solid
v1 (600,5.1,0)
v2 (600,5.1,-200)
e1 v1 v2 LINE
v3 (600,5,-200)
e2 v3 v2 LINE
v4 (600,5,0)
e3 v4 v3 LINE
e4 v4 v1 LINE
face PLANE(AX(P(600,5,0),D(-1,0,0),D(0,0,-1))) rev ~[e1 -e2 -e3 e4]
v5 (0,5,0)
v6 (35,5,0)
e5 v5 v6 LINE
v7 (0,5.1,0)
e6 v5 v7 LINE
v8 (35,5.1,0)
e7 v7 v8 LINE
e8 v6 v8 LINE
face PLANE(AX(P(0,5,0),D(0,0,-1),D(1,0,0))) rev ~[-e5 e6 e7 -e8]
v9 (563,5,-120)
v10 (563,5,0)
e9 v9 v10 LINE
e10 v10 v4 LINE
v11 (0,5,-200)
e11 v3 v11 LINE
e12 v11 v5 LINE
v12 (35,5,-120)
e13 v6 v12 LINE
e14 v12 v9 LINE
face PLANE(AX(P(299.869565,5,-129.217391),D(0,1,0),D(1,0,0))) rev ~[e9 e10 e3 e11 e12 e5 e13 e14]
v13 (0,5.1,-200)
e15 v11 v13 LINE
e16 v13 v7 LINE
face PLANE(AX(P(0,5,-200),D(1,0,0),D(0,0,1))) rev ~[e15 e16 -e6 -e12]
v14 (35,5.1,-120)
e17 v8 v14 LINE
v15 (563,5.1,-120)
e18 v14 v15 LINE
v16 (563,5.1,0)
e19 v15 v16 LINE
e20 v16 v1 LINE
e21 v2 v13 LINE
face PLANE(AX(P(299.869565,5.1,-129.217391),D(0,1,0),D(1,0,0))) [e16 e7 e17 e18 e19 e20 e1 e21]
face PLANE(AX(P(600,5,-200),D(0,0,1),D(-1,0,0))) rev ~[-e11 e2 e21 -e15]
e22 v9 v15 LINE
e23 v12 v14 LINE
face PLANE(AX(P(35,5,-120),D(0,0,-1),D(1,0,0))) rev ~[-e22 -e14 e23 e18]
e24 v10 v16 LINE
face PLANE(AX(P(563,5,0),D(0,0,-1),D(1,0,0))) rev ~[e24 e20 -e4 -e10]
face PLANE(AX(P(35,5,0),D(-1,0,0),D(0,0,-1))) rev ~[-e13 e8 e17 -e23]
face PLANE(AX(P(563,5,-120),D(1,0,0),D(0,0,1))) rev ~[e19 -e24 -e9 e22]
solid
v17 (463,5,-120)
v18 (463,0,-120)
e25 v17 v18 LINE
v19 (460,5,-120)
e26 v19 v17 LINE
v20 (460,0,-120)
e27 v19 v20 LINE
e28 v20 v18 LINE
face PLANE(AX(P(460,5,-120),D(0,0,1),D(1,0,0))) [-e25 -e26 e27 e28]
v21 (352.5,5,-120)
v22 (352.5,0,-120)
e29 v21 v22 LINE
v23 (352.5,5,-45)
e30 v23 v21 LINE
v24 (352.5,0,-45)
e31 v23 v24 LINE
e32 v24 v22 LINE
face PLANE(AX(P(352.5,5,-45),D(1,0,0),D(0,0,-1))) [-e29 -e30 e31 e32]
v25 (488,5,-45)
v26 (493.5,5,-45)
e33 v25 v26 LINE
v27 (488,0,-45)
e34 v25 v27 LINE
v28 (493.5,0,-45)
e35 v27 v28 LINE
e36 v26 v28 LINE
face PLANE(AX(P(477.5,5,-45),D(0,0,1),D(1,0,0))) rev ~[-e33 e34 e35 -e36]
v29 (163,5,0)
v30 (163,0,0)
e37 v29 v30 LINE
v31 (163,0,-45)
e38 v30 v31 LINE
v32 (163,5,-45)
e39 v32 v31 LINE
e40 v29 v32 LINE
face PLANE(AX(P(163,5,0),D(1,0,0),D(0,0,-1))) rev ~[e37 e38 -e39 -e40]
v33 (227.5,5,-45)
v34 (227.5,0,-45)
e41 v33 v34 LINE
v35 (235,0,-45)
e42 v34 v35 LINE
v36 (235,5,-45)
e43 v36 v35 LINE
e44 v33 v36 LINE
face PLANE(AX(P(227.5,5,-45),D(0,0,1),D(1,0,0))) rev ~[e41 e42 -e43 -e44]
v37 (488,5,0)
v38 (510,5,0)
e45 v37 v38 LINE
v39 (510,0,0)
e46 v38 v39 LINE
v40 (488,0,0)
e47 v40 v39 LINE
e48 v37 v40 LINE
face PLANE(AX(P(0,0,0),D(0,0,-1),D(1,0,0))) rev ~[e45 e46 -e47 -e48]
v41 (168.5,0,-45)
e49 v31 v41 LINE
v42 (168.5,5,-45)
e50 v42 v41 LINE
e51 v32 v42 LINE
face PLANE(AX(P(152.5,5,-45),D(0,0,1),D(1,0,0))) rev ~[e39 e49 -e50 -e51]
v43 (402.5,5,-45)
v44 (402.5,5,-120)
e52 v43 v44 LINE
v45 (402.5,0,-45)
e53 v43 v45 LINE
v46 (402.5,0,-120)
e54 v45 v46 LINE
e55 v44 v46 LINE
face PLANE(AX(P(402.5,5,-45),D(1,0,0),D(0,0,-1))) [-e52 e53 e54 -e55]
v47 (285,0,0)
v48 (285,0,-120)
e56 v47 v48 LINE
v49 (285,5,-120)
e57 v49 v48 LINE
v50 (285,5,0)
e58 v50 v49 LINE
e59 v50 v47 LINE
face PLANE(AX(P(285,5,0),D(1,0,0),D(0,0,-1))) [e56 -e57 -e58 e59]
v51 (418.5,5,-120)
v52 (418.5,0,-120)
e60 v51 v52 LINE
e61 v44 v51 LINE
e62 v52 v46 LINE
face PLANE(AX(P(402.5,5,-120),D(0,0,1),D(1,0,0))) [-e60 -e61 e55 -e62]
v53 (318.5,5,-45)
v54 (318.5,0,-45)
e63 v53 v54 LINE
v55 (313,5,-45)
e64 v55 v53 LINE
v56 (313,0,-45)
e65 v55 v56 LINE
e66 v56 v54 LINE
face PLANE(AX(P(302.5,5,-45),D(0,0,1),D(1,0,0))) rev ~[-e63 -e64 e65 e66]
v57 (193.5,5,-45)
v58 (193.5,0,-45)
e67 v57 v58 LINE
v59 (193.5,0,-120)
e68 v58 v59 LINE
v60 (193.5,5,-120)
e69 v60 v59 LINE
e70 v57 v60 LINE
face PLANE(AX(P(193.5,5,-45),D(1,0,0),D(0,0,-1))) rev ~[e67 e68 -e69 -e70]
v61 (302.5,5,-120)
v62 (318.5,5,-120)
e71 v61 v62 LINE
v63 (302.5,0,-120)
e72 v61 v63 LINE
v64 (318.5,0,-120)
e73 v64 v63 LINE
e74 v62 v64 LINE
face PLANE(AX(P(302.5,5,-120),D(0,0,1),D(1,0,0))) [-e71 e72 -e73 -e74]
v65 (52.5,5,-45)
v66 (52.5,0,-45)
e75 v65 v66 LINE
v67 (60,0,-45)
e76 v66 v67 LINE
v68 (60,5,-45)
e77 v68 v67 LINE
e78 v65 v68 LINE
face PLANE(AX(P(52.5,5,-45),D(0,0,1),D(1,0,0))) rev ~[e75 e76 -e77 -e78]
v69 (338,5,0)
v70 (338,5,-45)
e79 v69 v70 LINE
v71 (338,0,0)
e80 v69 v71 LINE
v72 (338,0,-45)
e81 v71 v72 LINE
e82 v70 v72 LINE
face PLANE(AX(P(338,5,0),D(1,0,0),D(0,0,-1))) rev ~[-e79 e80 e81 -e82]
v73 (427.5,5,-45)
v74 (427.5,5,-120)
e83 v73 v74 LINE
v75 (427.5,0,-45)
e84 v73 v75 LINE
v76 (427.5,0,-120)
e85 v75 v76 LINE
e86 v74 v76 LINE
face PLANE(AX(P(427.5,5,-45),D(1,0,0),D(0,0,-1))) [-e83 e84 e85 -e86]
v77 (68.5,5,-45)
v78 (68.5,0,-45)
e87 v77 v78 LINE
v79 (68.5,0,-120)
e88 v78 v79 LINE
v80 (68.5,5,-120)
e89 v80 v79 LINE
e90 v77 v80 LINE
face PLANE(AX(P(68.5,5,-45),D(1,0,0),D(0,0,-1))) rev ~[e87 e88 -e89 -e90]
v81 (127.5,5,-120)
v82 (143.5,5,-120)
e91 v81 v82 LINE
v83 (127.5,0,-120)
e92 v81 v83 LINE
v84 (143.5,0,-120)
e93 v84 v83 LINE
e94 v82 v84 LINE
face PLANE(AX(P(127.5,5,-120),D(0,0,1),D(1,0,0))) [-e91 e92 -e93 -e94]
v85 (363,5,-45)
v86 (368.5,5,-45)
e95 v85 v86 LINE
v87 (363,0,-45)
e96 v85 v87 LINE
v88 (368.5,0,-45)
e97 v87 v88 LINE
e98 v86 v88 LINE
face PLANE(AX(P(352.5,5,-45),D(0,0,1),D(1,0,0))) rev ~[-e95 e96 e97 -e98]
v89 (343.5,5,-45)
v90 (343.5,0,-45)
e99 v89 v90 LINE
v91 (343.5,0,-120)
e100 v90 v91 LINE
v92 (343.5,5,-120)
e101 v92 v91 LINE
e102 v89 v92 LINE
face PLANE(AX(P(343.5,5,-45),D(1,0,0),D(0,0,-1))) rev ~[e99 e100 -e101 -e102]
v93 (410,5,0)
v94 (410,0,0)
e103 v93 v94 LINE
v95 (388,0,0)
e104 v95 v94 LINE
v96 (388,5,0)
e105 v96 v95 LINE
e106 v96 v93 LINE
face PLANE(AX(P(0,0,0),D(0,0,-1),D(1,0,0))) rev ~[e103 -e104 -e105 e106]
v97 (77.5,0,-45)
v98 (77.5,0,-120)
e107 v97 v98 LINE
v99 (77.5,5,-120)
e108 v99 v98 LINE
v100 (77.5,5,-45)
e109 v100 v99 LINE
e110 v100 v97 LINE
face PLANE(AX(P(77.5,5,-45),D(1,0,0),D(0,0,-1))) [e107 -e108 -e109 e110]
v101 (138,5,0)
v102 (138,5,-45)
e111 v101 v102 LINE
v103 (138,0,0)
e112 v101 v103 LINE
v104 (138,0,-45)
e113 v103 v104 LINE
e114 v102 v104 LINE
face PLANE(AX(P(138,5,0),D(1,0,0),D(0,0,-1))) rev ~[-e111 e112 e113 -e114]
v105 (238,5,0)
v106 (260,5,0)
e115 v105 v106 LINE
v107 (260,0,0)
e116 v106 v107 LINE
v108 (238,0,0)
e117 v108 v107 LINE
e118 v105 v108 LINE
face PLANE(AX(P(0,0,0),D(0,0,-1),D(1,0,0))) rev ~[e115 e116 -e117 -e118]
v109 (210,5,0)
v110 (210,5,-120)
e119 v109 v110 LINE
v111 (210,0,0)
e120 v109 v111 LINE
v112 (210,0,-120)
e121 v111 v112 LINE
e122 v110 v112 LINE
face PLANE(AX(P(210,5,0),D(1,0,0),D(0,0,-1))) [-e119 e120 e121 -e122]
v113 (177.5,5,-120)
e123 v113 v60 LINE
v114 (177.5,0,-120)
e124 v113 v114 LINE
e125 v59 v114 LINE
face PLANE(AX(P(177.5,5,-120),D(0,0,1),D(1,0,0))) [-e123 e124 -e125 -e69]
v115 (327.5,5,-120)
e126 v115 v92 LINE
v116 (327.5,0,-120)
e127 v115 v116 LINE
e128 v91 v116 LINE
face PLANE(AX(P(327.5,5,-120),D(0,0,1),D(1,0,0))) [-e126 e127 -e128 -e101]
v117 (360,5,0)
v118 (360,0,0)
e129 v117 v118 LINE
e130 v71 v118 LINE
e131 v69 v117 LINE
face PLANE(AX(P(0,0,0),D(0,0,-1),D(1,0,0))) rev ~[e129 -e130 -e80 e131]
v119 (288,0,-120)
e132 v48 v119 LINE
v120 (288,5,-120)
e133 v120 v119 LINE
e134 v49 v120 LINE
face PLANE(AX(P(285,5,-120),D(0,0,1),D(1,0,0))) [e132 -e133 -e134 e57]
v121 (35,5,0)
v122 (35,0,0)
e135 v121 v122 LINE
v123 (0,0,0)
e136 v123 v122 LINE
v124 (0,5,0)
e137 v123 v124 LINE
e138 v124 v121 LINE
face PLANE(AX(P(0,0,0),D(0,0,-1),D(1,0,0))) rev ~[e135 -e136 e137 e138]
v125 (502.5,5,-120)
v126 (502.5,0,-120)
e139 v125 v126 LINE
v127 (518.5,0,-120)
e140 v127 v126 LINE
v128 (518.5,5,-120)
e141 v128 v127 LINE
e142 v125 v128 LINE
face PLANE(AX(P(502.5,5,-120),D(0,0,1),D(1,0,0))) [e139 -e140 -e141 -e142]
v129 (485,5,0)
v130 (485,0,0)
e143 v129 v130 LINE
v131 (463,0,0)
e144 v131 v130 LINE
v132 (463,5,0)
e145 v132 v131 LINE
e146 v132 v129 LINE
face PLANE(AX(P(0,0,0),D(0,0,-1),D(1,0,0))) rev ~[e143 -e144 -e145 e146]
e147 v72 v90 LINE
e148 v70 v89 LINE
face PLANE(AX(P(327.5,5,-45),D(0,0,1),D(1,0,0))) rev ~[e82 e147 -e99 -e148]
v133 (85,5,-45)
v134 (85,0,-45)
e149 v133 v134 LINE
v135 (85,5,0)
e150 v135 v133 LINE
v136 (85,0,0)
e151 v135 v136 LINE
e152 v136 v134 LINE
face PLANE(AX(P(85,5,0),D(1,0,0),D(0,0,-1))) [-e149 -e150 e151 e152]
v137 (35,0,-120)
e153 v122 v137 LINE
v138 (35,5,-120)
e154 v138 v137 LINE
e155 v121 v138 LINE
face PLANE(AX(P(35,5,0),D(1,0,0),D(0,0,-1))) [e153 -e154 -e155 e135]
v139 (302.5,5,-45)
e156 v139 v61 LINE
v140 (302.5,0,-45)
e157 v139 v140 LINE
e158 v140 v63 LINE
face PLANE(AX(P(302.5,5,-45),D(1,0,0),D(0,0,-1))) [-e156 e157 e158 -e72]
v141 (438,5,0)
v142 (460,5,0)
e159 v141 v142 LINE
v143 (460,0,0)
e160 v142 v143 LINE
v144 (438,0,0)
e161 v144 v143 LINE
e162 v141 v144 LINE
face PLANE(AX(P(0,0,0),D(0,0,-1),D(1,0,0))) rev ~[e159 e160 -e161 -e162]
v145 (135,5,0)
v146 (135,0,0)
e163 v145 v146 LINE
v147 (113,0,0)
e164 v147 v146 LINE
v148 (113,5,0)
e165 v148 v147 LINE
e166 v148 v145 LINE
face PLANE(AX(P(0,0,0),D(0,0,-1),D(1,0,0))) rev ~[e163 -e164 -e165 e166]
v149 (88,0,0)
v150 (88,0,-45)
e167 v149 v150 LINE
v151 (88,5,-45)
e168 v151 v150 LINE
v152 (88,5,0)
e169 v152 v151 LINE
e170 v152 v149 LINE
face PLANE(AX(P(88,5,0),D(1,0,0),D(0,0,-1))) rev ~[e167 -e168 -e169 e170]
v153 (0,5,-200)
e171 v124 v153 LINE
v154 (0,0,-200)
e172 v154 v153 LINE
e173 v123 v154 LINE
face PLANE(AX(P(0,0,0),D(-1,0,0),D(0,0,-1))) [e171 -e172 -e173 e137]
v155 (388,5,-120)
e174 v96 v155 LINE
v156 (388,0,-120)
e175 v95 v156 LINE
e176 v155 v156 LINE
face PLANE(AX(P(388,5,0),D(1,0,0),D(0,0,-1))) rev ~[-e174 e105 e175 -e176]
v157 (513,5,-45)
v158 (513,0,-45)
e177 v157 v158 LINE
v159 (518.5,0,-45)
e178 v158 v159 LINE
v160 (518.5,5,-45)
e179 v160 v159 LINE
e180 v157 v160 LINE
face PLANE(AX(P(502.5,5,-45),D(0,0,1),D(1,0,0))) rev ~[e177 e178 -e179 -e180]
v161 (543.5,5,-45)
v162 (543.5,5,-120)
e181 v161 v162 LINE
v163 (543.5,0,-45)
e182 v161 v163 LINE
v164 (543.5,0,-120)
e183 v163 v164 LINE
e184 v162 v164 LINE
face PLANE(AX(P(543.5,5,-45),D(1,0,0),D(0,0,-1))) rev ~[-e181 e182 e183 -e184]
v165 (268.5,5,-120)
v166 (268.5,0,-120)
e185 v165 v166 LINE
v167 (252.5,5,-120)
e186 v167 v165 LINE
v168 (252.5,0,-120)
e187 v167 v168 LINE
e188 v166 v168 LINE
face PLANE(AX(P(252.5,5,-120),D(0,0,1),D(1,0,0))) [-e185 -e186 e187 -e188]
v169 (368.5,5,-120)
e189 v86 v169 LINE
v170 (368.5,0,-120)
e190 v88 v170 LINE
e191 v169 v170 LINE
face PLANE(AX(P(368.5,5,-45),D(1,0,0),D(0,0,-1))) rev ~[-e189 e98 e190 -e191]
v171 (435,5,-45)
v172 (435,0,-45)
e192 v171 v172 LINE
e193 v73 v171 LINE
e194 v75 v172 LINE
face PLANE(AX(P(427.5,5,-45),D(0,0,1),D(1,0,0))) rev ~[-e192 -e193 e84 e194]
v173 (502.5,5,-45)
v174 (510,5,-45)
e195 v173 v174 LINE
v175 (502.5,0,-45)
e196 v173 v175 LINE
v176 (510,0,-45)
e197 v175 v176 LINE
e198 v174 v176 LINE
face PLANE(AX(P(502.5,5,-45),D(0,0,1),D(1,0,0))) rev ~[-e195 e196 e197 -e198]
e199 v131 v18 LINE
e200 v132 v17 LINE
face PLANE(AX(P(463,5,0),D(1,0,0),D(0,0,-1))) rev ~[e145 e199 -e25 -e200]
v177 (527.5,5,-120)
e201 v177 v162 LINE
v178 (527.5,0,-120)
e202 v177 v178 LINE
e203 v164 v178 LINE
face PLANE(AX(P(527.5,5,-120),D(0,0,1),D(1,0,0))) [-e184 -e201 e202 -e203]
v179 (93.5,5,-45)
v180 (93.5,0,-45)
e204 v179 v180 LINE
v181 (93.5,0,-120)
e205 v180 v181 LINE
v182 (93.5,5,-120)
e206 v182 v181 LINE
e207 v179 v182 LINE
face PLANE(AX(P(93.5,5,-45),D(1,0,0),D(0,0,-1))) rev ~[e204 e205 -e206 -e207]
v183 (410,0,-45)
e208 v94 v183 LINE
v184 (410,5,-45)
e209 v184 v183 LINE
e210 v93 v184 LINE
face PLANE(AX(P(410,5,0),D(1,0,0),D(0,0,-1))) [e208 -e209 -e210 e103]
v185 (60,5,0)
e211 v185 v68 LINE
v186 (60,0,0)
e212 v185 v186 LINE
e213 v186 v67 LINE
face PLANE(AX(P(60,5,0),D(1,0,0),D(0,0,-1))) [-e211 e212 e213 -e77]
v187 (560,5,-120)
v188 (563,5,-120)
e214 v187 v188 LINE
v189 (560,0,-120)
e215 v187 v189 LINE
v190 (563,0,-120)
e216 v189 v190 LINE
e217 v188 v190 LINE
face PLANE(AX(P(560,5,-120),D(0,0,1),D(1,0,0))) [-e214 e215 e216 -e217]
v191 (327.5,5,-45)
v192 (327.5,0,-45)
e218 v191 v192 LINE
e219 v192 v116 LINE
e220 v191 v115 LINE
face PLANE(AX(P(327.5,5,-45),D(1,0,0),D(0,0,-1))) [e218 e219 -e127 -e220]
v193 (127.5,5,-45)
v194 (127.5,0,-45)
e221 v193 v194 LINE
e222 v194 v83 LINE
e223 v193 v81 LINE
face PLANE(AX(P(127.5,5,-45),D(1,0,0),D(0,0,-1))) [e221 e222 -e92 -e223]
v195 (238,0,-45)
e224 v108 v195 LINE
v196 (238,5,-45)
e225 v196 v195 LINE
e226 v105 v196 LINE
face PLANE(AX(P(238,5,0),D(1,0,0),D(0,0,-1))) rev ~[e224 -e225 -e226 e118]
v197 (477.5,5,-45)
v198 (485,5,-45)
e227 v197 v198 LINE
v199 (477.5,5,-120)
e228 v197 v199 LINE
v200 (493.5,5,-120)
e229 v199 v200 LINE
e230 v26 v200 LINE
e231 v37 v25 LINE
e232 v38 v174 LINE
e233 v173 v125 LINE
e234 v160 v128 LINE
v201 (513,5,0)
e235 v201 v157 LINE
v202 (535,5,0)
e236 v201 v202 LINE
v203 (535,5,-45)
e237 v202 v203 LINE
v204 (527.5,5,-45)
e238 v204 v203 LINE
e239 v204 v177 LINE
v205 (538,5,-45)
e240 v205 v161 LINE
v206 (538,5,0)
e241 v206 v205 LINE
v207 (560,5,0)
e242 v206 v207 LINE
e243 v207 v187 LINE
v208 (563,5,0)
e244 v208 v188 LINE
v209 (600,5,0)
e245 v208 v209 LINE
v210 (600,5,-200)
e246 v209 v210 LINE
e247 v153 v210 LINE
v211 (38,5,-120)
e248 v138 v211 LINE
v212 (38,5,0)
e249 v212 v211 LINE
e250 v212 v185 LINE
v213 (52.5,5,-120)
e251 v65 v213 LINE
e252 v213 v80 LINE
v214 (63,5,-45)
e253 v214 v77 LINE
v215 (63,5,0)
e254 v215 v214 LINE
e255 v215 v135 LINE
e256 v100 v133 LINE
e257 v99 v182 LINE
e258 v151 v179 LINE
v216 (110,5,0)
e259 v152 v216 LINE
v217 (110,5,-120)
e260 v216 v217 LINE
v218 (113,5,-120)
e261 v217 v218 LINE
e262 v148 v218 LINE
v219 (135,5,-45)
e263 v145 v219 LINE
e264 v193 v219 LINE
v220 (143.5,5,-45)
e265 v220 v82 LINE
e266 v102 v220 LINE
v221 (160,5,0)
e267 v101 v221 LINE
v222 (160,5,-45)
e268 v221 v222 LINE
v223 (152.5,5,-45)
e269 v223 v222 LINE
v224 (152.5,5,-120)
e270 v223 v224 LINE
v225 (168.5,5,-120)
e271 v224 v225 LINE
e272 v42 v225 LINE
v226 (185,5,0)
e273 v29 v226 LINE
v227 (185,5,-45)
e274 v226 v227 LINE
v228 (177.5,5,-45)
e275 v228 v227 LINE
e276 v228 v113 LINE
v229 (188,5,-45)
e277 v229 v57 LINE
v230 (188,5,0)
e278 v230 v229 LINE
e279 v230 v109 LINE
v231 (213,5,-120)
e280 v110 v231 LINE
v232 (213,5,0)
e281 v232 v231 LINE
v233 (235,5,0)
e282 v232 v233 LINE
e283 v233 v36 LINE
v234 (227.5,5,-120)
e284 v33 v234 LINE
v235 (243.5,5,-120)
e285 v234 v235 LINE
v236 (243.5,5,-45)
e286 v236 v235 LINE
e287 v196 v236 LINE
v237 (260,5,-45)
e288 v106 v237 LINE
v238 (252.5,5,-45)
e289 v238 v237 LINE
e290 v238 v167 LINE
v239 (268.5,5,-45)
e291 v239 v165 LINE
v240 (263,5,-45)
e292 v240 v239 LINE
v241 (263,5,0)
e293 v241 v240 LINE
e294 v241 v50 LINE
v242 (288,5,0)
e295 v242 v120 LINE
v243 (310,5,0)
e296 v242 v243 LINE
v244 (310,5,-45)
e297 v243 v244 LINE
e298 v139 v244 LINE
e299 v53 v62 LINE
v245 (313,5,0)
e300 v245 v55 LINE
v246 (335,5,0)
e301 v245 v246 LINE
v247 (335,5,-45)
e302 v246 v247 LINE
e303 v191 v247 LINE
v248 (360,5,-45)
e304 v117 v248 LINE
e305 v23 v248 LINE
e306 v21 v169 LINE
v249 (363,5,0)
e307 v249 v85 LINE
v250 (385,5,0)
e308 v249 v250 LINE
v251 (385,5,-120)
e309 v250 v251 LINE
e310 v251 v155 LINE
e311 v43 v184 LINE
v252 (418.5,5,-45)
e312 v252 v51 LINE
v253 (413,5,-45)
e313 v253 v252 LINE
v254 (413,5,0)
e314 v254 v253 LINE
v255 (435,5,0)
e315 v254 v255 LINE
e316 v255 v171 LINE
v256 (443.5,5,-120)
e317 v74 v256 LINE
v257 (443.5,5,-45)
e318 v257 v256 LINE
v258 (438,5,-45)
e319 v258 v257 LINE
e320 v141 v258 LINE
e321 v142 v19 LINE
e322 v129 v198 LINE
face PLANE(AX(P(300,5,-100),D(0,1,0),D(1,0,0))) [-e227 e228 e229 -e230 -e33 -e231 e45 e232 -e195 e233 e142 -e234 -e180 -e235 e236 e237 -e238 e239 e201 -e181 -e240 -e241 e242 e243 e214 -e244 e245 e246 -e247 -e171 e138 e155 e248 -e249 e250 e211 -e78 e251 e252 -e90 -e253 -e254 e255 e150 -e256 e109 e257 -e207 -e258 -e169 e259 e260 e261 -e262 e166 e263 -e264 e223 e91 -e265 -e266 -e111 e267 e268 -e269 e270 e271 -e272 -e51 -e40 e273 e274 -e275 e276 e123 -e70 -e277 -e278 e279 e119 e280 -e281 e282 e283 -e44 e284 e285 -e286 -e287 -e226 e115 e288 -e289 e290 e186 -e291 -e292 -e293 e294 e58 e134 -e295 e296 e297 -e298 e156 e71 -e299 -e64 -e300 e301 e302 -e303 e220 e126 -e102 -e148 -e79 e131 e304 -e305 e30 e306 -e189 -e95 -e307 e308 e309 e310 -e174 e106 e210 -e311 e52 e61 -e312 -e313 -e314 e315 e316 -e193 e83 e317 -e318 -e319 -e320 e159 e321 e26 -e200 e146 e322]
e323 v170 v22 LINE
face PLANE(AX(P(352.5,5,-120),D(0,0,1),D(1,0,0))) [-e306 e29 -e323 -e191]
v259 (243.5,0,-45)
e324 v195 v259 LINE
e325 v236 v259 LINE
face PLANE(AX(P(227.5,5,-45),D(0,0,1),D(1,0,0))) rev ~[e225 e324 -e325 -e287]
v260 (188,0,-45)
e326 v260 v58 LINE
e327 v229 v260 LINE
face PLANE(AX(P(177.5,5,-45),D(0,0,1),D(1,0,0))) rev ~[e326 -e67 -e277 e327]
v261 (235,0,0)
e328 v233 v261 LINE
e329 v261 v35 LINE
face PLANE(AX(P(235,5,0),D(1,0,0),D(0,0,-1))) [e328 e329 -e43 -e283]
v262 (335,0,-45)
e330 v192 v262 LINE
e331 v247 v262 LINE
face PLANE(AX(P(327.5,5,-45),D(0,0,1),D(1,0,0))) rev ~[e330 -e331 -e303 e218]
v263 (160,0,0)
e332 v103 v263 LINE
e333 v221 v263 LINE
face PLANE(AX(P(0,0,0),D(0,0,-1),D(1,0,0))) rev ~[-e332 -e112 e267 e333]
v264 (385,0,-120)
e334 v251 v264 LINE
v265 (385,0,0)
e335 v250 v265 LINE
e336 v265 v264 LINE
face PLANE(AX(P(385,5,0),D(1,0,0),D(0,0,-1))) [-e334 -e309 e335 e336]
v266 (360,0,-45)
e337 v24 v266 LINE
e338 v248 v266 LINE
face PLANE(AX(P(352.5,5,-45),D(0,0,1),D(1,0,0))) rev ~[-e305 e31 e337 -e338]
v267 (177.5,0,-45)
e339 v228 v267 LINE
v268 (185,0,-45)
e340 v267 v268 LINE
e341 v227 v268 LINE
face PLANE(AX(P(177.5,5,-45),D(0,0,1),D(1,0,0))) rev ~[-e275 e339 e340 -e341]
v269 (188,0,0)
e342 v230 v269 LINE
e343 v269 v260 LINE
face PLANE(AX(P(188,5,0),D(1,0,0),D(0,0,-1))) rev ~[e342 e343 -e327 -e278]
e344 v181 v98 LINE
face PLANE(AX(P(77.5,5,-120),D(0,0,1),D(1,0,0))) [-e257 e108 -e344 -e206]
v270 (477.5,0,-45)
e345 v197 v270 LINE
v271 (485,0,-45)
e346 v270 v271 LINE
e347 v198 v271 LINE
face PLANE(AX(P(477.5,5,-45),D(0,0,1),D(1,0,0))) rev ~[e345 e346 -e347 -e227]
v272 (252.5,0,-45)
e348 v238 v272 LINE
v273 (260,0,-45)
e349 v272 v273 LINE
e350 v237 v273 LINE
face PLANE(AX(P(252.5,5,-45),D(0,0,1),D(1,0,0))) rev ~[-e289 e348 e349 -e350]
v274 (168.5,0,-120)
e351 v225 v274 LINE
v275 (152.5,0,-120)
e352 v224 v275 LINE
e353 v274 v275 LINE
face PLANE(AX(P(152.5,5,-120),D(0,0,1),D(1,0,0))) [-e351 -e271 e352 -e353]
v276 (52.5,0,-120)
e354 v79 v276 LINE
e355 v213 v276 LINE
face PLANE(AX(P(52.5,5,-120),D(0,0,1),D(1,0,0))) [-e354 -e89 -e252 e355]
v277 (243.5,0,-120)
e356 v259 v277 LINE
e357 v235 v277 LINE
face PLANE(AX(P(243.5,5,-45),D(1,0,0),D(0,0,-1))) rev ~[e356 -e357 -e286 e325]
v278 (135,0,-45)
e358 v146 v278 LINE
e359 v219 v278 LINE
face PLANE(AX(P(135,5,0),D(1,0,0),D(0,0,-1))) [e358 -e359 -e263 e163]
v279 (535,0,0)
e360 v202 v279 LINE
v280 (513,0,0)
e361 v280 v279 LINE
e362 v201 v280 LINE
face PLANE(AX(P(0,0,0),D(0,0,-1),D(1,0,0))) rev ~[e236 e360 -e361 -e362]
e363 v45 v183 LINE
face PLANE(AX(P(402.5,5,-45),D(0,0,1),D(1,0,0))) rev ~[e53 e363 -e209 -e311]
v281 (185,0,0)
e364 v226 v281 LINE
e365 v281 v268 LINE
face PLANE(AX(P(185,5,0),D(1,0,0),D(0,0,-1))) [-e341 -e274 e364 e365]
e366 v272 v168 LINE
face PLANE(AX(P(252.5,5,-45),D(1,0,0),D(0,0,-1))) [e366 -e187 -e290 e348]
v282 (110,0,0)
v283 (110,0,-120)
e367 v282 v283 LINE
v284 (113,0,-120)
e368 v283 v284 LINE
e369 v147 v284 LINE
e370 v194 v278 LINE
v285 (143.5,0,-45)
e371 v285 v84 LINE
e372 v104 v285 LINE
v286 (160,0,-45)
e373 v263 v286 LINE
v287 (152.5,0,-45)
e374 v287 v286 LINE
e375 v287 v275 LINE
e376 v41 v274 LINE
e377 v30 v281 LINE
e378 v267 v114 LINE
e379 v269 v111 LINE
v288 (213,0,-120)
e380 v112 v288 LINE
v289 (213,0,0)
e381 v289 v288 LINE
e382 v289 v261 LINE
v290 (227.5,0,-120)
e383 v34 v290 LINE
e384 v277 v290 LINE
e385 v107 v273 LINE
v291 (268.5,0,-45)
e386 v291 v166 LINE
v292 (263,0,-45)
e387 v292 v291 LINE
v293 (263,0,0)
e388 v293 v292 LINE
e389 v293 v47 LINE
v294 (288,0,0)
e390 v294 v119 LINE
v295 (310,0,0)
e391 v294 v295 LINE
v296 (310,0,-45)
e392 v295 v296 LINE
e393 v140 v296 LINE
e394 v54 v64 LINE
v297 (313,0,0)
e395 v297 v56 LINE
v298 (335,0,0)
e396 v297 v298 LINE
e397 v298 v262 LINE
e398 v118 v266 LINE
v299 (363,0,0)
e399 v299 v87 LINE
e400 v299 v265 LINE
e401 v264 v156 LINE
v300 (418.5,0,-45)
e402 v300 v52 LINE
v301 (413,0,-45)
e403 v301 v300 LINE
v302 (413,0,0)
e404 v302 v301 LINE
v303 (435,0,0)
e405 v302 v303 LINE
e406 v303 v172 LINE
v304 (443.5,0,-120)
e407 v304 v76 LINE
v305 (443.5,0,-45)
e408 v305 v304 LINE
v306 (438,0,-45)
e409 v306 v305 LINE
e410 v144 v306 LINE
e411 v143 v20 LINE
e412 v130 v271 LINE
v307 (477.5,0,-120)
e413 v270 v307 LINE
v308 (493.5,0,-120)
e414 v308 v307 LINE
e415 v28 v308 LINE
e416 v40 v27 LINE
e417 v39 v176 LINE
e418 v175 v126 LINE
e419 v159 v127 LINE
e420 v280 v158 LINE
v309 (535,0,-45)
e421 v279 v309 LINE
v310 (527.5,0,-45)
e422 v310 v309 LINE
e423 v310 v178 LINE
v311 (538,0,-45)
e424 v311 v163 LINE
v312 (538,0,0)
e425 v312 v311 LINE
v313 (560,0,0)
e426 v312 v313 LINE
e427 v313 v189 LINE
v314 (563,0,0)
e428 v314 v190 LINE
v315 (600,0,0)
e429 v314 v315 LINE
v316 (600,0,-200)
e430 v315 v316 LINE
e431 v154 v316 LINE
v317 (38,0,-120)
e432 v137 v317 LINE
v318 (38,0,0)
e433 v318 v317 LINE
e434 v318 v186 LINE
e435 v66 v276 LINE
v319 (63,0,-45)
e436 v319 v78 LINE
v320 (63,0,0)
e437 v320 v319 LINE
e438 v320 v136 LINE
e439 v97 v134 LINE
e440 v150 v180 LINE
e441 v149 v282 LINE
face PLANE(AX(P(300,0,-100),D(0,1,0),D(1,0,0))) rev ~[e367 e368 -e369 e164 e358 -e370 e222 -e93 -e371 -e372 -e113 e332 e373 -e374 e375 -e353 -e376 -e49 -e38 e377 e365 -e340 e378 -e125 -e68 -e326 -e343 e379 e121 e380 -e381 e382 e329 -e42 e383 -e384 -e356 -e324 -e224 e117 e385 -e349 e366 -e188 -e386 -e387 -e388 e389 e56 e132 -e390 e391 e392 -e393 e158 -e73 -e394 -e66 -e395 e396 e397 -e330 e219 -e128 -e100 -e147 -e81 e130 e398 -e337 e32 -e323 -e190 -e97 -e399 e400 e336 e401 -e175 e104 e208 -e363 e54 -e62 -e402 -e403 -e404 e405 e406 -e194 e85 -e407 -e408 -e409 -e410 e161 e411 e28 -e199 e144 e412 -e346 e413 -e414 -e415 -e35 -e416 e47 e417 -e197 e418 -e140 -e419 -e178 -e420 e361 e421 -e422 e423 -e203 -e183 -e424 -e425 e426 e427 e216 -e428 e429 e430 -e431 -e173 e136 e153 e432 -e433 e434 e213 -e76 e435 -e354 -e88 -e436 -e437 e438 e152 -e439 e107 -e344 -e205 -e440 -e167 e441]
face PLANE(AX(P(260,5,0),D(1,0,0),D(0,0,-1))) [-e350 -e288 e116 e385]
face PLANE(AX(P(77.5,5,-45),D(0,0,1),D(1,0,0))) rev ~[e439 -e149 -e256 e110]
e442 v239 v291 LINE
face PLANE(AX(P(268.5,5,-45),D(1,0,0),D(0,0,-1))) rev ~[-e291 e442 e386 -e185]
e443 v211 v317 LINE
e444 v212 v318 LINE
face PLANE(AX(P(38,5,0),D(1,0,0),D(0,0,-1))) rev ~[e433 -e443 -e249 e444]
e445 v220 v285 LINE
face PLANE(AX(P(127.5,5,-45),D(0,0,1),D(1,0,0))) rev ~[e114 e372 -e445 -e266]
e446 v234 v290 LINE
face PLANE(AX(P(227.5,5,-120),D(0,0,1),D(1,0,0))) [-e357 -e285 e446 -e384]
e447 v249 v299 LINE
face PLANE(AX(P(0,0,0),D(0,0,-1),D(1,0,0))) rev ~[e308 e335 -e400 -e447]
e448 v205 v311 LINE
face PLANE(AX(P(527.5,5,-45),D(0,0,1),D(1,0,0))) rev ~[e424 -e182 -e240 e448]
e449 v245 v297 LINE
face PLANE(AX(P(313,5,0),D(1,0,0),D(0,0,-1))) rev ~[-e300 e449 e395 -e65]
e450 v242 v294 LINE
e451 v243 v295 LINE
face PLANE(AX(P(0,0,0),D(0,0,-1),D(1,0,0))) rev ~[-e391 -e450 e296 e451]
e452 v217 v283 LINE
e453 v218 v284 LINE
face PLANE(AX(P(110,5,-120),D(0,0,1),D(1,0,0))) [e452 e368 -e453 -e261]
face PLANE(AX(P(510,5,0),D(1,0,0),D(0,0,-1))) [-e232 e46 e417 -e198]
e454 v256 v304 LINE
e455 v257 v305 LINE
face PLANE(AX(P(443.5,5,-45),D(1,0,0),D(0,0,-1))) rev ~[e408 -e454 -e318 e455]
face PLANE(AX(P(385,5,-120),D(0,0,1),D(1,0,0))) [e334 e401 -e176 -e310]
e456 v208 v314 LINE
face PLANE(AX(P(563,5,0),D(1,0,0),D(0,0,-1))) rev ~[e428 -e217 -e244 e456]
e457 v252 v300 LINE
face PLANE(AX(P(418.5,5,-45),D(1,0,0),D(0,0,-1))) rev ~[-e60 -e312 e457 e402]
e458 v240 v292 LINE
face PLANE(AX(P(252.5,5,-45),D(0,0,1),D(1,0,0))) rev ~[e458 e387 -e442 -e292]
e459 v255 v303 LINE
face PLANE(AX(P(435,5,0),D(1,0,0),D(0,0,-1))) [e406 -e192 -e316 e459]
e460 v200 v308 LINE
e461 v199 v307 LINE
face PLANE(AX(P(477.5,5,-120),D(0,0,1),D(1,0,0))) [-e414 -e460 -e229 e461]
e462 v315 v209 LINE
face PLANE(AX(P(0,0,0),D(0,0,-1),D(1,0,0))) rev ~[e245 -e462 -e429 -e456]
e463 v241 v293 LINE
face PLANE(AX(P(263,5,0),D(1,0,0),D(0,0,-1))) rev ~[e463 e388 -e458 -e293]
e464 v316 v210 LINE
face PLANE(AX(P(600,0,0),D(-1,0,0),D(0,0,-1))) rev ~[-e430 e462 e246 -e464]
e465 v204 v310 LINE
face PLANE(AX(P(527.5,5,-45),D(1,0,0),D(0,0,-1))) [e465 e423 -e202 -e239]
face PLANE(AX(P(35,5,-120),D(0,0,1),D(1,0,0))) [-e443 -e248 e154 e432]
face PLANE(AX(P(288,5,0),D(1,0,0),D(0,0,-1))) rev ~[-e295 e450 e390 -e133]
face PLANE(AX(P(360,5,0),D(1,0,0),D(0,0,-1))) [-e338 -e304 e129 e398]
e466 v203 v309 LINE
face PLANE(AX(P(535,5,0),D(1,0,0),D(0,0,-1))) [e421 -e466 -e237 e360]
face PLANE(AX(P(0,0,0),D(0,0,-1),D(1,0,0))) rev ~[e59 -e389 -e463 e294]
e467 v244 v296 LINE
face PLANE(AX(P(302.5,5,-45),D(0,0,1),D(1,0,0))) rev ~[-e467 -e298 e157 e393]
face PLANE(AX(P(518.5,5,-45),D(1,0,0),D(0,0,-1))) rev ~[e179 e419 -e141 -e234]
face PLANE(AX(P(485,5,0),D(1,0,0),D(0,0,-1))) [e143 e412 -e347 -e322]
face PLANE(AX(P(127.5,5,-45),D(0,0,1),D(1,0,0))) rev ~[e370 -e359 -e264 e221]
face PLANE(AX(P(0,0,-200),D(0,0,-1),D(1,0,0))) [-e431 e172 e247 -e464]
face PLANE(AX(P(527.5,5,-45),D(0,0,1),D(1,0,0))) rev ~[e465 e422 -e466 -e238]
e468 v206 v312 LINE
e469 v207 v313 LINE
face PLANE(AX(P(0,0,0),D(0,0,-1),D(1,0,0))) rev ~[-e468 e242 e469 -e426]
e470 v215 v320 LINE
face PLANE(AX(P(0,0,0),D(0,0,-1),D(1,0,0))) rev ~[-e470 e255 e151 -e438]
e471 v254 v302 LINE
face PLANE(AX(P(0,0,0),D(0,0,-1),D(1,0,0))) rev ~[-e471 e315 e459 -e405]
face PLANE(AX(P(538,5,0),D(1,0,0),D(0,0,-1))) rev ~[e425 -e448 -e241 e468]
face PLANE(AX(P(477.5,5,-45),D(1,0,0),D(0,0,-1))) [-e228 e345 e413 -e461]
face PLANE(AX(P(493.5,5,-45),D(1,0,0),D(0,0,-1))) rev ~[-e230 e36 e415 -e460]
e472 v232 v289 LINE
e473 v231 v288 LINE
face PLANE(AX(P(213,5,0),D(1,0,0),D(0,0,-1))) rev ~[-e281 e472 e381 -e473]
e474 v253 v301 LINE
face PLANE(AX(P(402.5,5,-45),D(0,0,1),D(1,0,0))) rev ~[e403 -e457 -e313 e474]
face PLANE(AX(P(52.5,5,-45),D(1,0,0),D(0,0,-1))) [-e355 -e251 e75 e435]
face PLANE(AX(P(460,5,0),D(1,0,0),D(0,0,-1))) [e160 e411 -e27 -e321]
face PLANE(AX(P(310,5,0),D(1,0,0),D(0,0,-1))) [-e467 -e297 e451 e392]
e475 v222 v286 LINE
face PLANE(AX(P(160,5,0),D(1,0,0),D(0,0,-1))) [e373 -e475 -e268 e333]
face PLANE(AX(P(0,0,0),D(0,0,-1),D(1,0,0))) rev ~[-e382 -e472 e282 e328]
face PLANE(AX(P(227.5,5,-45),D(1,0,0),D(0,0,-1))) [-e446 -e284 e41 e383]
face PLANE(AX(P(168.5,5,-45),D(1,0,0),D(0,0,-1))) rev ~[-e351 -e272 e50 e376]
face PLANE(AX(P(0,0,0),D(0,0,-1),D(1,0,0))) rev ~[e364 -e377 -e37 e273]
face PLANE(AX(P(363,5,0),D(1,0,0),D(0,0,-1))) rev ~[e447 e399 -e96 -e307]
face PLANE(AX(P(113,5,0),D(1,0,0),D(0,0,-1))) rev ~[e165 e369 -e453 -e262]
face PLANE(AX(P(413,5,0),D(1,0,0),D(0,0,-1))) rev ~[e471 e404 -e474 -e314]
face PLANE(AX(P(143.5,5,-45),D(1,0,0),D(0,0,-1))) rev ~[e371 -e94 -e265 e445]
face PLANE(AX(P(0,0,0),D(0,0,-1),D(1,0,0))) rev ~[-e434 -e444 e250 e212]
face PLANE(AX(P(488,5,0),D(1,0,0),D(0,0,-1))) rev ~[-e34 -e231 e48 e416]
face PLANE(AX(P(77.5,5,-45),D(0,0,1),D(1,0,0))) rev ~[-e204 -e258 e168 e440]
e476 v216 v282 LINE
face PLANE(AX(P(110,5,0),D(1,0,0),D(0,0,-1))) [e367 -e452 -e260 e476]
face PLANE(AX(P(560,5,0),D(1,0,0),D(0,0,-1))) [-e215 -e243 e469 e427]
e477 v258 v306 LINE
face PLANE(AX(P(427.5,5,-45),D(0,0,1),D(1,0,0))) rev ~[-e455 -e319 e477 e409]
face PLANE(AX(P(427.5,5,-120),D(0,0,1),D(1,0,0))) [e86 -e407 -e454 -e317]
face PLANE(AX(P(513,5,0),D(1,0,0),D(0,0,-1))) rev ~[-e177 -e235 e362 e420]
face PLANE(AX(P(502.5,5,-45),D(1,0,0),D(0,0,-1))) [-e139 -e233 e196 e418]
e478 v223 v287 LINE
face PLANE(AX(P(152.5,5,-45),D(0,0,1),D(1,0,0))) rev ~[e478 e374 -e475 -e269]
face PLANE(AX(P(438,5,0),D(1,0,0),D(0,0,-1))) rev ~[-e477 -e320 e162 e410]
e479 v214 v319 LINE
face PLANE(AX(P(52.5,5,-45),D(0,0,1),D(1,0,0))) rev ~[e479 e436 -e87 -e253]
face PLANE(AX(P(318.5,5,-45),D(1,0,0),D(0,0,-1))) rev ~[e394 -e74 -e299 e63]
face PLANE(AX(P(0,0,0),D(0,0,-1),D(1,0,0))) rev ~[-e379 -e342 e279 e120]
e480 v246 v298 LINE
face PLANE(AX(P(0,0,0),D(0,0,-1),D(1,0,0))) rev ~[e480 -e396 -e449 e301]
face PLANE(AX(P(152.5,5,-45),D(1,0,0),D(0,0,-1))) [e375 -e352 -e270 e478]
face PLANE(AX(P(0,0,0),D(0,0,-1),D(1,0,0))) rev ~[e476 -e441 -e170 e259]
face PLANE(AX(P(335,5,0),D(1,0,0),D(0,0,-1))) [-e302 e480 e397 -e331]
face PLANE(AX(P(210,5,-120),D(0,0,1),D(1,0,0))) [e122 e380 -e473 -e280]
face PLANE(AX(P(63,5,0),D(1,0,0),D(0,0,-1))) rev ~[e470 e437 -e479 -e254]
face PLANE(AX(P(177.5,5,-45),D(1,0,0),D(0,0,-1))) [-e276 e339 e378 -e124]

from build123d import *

# Parameters (mm, degrees)
SKETCH1_W           = 600
SKETCH1_H           = 200
BOSS_EXTRUDE1_DEPTH = 5
SKETCH2_W           = 3
SKETCH2_H           = 120
CUT_EXTRUDE4_DEPTH  = 5
SKETCH4_W           = 16
SKETCH4_H           = 75
CUT_EXTRUDE5_DEPTH  = 5
BOSS_EXTRUDE2_DEPTH = 0.1


with BuildPart() as part:
    # Sketch1 → Boss-Extrude1 (new body)
    with BuildSketch(Plane(origin=(0, 0, 0), x_dir=(1, 0, 0), z_dir=(0, 1, 0))):
        with Locations((300, 100)):
            Rectangle(SKETCH1_W, SKETCH1_H)
    extrude(amount=BOSS_EXTRUDE1_DEPTH)

    # Sketch2 → Cut-Extrude4 (cut)
    with BuildSketch(Plane(origin=(0, 5, 0), x_dir=(1, 0, 0), z_dir=(0, 1, 0))):
        with Locations((36.5, 60)):
            Rectangle(SKETCH2_W, SKETCH2_H)
        with Locations((61.5, 60)):
            Rectangle(SKETCH2_W, SKETCH2_H)
        with Locations((86.5, 60)):
            Rectangle(SKETCH2_W, SKETCH2_H)
        with Locations((111.5, 60)):
            Rectangle(SKETCH2_W, SKETCH2_H)
        with Locations((136.5, 60)):
            Rectangle(SKETCH2_W, SKETCH2_H)
        with Locations((161.5, 60)):
            Rectangle(SKETCH2_W, SKETCH2_H)
        with Locations((186.5, 60)):
            Rectangle(SKETCH2_W, SKETCH2_H)
        with Locations((211.5, 60)):
            Rectangle(SKETCH2_W, SKETCH2_H)
        with Locations((236.5, 60)):
            Rectangle(SKETCH2_W, SKETCH2_H)
        with Locations((261.5, 60)):
            Rectangle(SKETCH2_W, SKETCH2_H)
        with Locations((286.5, 60)):
            Rectangle(SKETCH2_W, SKETCH2_H)
        with Locations((311.5, 60)):
            Rectangle(SKETCH2_W, SKETCH2_H)
        with Locations((336.5, 60)):
            Rectangle(SKETCH2_W, SKETCH2_H)
        with Locations((361.5, 60)):
            Rectangle(SKETCH2_W, SKETCH2_H)
        with Locations((386.5, 60)):
            Rectangle(SKETCH2_W, SKETCH2_H)
        with Locations((411.5, 60)):
            Rectangle(SKETCH2_W, SKETCH2_H)
        with Locations((436.5, 60)):
            Rectangle(SKETCH2_W, SKETCH2_H)
        with Locations((461.5, 60)):
            Rectangle(SKETCH2_W, SKETCH2_H)
        with Locations((486.5, 60)):
            Rectangle(SKETCH2_W, SKETCH2_H)
        with Locations((511.5, 60)):
            Rectangle(SKETCH2_W, SKETCH2_H)
        with Locations((536.5, 60)):
            Rectangle(SKETCH2_W, SKETCH2_H)
        with Locations((561.5, 60)):
            Rectangle(SKETCH2_W, SKETCH2_H)
    extrude(amount=-CUT_EXTRUDE4_DEPTH, mode=Mode.SUBTRACT)

    # Sketch4 → Cut-Extrude5 (cut)
    with BuildSketch(Plane(origin=(0, 5, 0), x_dir=(1, 0, 0), z_dir=(0, 1, 0))):
        with Locations((60.5, 82.5)):
            Rectangle(SKETCH4_W, SKETCH4_H)
        with Locations((85.5, 82.5)):
            Rectangle(SKETCH4_W, SKETCH4_H)
        with Locations((135.5, 82.5)):
            Rectangle(SKETCH4_W, SKETCH4_H)
        with Locations((160.5, 82.5)):
            Rectangle(SKETCH4_W, SKETCH4_H)
        with Locations((185.5, 82.5)):
            Rectangle(SKETCH4_W, SKETCH4_H)
        with Locations((235.5, 82.5)):
            Rectangle(SKETCH4_W, SKETCH4_H)
        with Locations((260.5, 82.5)):
            Rectangle(SKETCH4_W, SKETCH4_H)
        with Locations((310.5, 82.5)):
            Rectangle(SKETCH4_W, SKETCH4_H)
        with Locations((335.5, 82.5)):
            Rectangle(SKETCH4_W, SKETCH4_H)
        with Locations((360.5, 82.5)):
            Rectangle(SKETCH4_W, SKETCH4_H)
        with Locations((410.5, 82.5)):
            Rectangle(SKETCH4_W, SKETCH4_H)
        with Locations((435.5, 82.5)):
            Rectangle(SKETCH4_W, SKETCH4_H)
        with Locations((485.5, 82.5)):
            Rectangle(SKETCH4_W, SKETCH4_H)
        with Locations((510.5, 82.5)):
            Rectangle(SKETCH4_W, SKETCH4_H)
        with Locations((535.5, 82.5)):
            Rectangle(SKETCH4_W, SKETCH4_H)
    extrude(amount=-CUT_EXTRUDE5_DEPTH, mode=Mode.SUBTRACT)


with BuildPart() as body_2:
    # Sketch5 → Boss-Extrude2 (new body)
    with BuildSketch(Plane(origin=(0, 5, 0), x_dir=(1, 0, 0), z_dir=(0, 1, 0))):
        Polygon((0, 0), (35, 0), (35, 120), (563, 120), (563, 0), (600, 0), (600, 120), (600, 200), (0, 200), (0, 120), align=None)
    extrude(amount=BOSS_EXTRUDE2_DEPTH)


solid = Compound([part.part, body_2.part])
